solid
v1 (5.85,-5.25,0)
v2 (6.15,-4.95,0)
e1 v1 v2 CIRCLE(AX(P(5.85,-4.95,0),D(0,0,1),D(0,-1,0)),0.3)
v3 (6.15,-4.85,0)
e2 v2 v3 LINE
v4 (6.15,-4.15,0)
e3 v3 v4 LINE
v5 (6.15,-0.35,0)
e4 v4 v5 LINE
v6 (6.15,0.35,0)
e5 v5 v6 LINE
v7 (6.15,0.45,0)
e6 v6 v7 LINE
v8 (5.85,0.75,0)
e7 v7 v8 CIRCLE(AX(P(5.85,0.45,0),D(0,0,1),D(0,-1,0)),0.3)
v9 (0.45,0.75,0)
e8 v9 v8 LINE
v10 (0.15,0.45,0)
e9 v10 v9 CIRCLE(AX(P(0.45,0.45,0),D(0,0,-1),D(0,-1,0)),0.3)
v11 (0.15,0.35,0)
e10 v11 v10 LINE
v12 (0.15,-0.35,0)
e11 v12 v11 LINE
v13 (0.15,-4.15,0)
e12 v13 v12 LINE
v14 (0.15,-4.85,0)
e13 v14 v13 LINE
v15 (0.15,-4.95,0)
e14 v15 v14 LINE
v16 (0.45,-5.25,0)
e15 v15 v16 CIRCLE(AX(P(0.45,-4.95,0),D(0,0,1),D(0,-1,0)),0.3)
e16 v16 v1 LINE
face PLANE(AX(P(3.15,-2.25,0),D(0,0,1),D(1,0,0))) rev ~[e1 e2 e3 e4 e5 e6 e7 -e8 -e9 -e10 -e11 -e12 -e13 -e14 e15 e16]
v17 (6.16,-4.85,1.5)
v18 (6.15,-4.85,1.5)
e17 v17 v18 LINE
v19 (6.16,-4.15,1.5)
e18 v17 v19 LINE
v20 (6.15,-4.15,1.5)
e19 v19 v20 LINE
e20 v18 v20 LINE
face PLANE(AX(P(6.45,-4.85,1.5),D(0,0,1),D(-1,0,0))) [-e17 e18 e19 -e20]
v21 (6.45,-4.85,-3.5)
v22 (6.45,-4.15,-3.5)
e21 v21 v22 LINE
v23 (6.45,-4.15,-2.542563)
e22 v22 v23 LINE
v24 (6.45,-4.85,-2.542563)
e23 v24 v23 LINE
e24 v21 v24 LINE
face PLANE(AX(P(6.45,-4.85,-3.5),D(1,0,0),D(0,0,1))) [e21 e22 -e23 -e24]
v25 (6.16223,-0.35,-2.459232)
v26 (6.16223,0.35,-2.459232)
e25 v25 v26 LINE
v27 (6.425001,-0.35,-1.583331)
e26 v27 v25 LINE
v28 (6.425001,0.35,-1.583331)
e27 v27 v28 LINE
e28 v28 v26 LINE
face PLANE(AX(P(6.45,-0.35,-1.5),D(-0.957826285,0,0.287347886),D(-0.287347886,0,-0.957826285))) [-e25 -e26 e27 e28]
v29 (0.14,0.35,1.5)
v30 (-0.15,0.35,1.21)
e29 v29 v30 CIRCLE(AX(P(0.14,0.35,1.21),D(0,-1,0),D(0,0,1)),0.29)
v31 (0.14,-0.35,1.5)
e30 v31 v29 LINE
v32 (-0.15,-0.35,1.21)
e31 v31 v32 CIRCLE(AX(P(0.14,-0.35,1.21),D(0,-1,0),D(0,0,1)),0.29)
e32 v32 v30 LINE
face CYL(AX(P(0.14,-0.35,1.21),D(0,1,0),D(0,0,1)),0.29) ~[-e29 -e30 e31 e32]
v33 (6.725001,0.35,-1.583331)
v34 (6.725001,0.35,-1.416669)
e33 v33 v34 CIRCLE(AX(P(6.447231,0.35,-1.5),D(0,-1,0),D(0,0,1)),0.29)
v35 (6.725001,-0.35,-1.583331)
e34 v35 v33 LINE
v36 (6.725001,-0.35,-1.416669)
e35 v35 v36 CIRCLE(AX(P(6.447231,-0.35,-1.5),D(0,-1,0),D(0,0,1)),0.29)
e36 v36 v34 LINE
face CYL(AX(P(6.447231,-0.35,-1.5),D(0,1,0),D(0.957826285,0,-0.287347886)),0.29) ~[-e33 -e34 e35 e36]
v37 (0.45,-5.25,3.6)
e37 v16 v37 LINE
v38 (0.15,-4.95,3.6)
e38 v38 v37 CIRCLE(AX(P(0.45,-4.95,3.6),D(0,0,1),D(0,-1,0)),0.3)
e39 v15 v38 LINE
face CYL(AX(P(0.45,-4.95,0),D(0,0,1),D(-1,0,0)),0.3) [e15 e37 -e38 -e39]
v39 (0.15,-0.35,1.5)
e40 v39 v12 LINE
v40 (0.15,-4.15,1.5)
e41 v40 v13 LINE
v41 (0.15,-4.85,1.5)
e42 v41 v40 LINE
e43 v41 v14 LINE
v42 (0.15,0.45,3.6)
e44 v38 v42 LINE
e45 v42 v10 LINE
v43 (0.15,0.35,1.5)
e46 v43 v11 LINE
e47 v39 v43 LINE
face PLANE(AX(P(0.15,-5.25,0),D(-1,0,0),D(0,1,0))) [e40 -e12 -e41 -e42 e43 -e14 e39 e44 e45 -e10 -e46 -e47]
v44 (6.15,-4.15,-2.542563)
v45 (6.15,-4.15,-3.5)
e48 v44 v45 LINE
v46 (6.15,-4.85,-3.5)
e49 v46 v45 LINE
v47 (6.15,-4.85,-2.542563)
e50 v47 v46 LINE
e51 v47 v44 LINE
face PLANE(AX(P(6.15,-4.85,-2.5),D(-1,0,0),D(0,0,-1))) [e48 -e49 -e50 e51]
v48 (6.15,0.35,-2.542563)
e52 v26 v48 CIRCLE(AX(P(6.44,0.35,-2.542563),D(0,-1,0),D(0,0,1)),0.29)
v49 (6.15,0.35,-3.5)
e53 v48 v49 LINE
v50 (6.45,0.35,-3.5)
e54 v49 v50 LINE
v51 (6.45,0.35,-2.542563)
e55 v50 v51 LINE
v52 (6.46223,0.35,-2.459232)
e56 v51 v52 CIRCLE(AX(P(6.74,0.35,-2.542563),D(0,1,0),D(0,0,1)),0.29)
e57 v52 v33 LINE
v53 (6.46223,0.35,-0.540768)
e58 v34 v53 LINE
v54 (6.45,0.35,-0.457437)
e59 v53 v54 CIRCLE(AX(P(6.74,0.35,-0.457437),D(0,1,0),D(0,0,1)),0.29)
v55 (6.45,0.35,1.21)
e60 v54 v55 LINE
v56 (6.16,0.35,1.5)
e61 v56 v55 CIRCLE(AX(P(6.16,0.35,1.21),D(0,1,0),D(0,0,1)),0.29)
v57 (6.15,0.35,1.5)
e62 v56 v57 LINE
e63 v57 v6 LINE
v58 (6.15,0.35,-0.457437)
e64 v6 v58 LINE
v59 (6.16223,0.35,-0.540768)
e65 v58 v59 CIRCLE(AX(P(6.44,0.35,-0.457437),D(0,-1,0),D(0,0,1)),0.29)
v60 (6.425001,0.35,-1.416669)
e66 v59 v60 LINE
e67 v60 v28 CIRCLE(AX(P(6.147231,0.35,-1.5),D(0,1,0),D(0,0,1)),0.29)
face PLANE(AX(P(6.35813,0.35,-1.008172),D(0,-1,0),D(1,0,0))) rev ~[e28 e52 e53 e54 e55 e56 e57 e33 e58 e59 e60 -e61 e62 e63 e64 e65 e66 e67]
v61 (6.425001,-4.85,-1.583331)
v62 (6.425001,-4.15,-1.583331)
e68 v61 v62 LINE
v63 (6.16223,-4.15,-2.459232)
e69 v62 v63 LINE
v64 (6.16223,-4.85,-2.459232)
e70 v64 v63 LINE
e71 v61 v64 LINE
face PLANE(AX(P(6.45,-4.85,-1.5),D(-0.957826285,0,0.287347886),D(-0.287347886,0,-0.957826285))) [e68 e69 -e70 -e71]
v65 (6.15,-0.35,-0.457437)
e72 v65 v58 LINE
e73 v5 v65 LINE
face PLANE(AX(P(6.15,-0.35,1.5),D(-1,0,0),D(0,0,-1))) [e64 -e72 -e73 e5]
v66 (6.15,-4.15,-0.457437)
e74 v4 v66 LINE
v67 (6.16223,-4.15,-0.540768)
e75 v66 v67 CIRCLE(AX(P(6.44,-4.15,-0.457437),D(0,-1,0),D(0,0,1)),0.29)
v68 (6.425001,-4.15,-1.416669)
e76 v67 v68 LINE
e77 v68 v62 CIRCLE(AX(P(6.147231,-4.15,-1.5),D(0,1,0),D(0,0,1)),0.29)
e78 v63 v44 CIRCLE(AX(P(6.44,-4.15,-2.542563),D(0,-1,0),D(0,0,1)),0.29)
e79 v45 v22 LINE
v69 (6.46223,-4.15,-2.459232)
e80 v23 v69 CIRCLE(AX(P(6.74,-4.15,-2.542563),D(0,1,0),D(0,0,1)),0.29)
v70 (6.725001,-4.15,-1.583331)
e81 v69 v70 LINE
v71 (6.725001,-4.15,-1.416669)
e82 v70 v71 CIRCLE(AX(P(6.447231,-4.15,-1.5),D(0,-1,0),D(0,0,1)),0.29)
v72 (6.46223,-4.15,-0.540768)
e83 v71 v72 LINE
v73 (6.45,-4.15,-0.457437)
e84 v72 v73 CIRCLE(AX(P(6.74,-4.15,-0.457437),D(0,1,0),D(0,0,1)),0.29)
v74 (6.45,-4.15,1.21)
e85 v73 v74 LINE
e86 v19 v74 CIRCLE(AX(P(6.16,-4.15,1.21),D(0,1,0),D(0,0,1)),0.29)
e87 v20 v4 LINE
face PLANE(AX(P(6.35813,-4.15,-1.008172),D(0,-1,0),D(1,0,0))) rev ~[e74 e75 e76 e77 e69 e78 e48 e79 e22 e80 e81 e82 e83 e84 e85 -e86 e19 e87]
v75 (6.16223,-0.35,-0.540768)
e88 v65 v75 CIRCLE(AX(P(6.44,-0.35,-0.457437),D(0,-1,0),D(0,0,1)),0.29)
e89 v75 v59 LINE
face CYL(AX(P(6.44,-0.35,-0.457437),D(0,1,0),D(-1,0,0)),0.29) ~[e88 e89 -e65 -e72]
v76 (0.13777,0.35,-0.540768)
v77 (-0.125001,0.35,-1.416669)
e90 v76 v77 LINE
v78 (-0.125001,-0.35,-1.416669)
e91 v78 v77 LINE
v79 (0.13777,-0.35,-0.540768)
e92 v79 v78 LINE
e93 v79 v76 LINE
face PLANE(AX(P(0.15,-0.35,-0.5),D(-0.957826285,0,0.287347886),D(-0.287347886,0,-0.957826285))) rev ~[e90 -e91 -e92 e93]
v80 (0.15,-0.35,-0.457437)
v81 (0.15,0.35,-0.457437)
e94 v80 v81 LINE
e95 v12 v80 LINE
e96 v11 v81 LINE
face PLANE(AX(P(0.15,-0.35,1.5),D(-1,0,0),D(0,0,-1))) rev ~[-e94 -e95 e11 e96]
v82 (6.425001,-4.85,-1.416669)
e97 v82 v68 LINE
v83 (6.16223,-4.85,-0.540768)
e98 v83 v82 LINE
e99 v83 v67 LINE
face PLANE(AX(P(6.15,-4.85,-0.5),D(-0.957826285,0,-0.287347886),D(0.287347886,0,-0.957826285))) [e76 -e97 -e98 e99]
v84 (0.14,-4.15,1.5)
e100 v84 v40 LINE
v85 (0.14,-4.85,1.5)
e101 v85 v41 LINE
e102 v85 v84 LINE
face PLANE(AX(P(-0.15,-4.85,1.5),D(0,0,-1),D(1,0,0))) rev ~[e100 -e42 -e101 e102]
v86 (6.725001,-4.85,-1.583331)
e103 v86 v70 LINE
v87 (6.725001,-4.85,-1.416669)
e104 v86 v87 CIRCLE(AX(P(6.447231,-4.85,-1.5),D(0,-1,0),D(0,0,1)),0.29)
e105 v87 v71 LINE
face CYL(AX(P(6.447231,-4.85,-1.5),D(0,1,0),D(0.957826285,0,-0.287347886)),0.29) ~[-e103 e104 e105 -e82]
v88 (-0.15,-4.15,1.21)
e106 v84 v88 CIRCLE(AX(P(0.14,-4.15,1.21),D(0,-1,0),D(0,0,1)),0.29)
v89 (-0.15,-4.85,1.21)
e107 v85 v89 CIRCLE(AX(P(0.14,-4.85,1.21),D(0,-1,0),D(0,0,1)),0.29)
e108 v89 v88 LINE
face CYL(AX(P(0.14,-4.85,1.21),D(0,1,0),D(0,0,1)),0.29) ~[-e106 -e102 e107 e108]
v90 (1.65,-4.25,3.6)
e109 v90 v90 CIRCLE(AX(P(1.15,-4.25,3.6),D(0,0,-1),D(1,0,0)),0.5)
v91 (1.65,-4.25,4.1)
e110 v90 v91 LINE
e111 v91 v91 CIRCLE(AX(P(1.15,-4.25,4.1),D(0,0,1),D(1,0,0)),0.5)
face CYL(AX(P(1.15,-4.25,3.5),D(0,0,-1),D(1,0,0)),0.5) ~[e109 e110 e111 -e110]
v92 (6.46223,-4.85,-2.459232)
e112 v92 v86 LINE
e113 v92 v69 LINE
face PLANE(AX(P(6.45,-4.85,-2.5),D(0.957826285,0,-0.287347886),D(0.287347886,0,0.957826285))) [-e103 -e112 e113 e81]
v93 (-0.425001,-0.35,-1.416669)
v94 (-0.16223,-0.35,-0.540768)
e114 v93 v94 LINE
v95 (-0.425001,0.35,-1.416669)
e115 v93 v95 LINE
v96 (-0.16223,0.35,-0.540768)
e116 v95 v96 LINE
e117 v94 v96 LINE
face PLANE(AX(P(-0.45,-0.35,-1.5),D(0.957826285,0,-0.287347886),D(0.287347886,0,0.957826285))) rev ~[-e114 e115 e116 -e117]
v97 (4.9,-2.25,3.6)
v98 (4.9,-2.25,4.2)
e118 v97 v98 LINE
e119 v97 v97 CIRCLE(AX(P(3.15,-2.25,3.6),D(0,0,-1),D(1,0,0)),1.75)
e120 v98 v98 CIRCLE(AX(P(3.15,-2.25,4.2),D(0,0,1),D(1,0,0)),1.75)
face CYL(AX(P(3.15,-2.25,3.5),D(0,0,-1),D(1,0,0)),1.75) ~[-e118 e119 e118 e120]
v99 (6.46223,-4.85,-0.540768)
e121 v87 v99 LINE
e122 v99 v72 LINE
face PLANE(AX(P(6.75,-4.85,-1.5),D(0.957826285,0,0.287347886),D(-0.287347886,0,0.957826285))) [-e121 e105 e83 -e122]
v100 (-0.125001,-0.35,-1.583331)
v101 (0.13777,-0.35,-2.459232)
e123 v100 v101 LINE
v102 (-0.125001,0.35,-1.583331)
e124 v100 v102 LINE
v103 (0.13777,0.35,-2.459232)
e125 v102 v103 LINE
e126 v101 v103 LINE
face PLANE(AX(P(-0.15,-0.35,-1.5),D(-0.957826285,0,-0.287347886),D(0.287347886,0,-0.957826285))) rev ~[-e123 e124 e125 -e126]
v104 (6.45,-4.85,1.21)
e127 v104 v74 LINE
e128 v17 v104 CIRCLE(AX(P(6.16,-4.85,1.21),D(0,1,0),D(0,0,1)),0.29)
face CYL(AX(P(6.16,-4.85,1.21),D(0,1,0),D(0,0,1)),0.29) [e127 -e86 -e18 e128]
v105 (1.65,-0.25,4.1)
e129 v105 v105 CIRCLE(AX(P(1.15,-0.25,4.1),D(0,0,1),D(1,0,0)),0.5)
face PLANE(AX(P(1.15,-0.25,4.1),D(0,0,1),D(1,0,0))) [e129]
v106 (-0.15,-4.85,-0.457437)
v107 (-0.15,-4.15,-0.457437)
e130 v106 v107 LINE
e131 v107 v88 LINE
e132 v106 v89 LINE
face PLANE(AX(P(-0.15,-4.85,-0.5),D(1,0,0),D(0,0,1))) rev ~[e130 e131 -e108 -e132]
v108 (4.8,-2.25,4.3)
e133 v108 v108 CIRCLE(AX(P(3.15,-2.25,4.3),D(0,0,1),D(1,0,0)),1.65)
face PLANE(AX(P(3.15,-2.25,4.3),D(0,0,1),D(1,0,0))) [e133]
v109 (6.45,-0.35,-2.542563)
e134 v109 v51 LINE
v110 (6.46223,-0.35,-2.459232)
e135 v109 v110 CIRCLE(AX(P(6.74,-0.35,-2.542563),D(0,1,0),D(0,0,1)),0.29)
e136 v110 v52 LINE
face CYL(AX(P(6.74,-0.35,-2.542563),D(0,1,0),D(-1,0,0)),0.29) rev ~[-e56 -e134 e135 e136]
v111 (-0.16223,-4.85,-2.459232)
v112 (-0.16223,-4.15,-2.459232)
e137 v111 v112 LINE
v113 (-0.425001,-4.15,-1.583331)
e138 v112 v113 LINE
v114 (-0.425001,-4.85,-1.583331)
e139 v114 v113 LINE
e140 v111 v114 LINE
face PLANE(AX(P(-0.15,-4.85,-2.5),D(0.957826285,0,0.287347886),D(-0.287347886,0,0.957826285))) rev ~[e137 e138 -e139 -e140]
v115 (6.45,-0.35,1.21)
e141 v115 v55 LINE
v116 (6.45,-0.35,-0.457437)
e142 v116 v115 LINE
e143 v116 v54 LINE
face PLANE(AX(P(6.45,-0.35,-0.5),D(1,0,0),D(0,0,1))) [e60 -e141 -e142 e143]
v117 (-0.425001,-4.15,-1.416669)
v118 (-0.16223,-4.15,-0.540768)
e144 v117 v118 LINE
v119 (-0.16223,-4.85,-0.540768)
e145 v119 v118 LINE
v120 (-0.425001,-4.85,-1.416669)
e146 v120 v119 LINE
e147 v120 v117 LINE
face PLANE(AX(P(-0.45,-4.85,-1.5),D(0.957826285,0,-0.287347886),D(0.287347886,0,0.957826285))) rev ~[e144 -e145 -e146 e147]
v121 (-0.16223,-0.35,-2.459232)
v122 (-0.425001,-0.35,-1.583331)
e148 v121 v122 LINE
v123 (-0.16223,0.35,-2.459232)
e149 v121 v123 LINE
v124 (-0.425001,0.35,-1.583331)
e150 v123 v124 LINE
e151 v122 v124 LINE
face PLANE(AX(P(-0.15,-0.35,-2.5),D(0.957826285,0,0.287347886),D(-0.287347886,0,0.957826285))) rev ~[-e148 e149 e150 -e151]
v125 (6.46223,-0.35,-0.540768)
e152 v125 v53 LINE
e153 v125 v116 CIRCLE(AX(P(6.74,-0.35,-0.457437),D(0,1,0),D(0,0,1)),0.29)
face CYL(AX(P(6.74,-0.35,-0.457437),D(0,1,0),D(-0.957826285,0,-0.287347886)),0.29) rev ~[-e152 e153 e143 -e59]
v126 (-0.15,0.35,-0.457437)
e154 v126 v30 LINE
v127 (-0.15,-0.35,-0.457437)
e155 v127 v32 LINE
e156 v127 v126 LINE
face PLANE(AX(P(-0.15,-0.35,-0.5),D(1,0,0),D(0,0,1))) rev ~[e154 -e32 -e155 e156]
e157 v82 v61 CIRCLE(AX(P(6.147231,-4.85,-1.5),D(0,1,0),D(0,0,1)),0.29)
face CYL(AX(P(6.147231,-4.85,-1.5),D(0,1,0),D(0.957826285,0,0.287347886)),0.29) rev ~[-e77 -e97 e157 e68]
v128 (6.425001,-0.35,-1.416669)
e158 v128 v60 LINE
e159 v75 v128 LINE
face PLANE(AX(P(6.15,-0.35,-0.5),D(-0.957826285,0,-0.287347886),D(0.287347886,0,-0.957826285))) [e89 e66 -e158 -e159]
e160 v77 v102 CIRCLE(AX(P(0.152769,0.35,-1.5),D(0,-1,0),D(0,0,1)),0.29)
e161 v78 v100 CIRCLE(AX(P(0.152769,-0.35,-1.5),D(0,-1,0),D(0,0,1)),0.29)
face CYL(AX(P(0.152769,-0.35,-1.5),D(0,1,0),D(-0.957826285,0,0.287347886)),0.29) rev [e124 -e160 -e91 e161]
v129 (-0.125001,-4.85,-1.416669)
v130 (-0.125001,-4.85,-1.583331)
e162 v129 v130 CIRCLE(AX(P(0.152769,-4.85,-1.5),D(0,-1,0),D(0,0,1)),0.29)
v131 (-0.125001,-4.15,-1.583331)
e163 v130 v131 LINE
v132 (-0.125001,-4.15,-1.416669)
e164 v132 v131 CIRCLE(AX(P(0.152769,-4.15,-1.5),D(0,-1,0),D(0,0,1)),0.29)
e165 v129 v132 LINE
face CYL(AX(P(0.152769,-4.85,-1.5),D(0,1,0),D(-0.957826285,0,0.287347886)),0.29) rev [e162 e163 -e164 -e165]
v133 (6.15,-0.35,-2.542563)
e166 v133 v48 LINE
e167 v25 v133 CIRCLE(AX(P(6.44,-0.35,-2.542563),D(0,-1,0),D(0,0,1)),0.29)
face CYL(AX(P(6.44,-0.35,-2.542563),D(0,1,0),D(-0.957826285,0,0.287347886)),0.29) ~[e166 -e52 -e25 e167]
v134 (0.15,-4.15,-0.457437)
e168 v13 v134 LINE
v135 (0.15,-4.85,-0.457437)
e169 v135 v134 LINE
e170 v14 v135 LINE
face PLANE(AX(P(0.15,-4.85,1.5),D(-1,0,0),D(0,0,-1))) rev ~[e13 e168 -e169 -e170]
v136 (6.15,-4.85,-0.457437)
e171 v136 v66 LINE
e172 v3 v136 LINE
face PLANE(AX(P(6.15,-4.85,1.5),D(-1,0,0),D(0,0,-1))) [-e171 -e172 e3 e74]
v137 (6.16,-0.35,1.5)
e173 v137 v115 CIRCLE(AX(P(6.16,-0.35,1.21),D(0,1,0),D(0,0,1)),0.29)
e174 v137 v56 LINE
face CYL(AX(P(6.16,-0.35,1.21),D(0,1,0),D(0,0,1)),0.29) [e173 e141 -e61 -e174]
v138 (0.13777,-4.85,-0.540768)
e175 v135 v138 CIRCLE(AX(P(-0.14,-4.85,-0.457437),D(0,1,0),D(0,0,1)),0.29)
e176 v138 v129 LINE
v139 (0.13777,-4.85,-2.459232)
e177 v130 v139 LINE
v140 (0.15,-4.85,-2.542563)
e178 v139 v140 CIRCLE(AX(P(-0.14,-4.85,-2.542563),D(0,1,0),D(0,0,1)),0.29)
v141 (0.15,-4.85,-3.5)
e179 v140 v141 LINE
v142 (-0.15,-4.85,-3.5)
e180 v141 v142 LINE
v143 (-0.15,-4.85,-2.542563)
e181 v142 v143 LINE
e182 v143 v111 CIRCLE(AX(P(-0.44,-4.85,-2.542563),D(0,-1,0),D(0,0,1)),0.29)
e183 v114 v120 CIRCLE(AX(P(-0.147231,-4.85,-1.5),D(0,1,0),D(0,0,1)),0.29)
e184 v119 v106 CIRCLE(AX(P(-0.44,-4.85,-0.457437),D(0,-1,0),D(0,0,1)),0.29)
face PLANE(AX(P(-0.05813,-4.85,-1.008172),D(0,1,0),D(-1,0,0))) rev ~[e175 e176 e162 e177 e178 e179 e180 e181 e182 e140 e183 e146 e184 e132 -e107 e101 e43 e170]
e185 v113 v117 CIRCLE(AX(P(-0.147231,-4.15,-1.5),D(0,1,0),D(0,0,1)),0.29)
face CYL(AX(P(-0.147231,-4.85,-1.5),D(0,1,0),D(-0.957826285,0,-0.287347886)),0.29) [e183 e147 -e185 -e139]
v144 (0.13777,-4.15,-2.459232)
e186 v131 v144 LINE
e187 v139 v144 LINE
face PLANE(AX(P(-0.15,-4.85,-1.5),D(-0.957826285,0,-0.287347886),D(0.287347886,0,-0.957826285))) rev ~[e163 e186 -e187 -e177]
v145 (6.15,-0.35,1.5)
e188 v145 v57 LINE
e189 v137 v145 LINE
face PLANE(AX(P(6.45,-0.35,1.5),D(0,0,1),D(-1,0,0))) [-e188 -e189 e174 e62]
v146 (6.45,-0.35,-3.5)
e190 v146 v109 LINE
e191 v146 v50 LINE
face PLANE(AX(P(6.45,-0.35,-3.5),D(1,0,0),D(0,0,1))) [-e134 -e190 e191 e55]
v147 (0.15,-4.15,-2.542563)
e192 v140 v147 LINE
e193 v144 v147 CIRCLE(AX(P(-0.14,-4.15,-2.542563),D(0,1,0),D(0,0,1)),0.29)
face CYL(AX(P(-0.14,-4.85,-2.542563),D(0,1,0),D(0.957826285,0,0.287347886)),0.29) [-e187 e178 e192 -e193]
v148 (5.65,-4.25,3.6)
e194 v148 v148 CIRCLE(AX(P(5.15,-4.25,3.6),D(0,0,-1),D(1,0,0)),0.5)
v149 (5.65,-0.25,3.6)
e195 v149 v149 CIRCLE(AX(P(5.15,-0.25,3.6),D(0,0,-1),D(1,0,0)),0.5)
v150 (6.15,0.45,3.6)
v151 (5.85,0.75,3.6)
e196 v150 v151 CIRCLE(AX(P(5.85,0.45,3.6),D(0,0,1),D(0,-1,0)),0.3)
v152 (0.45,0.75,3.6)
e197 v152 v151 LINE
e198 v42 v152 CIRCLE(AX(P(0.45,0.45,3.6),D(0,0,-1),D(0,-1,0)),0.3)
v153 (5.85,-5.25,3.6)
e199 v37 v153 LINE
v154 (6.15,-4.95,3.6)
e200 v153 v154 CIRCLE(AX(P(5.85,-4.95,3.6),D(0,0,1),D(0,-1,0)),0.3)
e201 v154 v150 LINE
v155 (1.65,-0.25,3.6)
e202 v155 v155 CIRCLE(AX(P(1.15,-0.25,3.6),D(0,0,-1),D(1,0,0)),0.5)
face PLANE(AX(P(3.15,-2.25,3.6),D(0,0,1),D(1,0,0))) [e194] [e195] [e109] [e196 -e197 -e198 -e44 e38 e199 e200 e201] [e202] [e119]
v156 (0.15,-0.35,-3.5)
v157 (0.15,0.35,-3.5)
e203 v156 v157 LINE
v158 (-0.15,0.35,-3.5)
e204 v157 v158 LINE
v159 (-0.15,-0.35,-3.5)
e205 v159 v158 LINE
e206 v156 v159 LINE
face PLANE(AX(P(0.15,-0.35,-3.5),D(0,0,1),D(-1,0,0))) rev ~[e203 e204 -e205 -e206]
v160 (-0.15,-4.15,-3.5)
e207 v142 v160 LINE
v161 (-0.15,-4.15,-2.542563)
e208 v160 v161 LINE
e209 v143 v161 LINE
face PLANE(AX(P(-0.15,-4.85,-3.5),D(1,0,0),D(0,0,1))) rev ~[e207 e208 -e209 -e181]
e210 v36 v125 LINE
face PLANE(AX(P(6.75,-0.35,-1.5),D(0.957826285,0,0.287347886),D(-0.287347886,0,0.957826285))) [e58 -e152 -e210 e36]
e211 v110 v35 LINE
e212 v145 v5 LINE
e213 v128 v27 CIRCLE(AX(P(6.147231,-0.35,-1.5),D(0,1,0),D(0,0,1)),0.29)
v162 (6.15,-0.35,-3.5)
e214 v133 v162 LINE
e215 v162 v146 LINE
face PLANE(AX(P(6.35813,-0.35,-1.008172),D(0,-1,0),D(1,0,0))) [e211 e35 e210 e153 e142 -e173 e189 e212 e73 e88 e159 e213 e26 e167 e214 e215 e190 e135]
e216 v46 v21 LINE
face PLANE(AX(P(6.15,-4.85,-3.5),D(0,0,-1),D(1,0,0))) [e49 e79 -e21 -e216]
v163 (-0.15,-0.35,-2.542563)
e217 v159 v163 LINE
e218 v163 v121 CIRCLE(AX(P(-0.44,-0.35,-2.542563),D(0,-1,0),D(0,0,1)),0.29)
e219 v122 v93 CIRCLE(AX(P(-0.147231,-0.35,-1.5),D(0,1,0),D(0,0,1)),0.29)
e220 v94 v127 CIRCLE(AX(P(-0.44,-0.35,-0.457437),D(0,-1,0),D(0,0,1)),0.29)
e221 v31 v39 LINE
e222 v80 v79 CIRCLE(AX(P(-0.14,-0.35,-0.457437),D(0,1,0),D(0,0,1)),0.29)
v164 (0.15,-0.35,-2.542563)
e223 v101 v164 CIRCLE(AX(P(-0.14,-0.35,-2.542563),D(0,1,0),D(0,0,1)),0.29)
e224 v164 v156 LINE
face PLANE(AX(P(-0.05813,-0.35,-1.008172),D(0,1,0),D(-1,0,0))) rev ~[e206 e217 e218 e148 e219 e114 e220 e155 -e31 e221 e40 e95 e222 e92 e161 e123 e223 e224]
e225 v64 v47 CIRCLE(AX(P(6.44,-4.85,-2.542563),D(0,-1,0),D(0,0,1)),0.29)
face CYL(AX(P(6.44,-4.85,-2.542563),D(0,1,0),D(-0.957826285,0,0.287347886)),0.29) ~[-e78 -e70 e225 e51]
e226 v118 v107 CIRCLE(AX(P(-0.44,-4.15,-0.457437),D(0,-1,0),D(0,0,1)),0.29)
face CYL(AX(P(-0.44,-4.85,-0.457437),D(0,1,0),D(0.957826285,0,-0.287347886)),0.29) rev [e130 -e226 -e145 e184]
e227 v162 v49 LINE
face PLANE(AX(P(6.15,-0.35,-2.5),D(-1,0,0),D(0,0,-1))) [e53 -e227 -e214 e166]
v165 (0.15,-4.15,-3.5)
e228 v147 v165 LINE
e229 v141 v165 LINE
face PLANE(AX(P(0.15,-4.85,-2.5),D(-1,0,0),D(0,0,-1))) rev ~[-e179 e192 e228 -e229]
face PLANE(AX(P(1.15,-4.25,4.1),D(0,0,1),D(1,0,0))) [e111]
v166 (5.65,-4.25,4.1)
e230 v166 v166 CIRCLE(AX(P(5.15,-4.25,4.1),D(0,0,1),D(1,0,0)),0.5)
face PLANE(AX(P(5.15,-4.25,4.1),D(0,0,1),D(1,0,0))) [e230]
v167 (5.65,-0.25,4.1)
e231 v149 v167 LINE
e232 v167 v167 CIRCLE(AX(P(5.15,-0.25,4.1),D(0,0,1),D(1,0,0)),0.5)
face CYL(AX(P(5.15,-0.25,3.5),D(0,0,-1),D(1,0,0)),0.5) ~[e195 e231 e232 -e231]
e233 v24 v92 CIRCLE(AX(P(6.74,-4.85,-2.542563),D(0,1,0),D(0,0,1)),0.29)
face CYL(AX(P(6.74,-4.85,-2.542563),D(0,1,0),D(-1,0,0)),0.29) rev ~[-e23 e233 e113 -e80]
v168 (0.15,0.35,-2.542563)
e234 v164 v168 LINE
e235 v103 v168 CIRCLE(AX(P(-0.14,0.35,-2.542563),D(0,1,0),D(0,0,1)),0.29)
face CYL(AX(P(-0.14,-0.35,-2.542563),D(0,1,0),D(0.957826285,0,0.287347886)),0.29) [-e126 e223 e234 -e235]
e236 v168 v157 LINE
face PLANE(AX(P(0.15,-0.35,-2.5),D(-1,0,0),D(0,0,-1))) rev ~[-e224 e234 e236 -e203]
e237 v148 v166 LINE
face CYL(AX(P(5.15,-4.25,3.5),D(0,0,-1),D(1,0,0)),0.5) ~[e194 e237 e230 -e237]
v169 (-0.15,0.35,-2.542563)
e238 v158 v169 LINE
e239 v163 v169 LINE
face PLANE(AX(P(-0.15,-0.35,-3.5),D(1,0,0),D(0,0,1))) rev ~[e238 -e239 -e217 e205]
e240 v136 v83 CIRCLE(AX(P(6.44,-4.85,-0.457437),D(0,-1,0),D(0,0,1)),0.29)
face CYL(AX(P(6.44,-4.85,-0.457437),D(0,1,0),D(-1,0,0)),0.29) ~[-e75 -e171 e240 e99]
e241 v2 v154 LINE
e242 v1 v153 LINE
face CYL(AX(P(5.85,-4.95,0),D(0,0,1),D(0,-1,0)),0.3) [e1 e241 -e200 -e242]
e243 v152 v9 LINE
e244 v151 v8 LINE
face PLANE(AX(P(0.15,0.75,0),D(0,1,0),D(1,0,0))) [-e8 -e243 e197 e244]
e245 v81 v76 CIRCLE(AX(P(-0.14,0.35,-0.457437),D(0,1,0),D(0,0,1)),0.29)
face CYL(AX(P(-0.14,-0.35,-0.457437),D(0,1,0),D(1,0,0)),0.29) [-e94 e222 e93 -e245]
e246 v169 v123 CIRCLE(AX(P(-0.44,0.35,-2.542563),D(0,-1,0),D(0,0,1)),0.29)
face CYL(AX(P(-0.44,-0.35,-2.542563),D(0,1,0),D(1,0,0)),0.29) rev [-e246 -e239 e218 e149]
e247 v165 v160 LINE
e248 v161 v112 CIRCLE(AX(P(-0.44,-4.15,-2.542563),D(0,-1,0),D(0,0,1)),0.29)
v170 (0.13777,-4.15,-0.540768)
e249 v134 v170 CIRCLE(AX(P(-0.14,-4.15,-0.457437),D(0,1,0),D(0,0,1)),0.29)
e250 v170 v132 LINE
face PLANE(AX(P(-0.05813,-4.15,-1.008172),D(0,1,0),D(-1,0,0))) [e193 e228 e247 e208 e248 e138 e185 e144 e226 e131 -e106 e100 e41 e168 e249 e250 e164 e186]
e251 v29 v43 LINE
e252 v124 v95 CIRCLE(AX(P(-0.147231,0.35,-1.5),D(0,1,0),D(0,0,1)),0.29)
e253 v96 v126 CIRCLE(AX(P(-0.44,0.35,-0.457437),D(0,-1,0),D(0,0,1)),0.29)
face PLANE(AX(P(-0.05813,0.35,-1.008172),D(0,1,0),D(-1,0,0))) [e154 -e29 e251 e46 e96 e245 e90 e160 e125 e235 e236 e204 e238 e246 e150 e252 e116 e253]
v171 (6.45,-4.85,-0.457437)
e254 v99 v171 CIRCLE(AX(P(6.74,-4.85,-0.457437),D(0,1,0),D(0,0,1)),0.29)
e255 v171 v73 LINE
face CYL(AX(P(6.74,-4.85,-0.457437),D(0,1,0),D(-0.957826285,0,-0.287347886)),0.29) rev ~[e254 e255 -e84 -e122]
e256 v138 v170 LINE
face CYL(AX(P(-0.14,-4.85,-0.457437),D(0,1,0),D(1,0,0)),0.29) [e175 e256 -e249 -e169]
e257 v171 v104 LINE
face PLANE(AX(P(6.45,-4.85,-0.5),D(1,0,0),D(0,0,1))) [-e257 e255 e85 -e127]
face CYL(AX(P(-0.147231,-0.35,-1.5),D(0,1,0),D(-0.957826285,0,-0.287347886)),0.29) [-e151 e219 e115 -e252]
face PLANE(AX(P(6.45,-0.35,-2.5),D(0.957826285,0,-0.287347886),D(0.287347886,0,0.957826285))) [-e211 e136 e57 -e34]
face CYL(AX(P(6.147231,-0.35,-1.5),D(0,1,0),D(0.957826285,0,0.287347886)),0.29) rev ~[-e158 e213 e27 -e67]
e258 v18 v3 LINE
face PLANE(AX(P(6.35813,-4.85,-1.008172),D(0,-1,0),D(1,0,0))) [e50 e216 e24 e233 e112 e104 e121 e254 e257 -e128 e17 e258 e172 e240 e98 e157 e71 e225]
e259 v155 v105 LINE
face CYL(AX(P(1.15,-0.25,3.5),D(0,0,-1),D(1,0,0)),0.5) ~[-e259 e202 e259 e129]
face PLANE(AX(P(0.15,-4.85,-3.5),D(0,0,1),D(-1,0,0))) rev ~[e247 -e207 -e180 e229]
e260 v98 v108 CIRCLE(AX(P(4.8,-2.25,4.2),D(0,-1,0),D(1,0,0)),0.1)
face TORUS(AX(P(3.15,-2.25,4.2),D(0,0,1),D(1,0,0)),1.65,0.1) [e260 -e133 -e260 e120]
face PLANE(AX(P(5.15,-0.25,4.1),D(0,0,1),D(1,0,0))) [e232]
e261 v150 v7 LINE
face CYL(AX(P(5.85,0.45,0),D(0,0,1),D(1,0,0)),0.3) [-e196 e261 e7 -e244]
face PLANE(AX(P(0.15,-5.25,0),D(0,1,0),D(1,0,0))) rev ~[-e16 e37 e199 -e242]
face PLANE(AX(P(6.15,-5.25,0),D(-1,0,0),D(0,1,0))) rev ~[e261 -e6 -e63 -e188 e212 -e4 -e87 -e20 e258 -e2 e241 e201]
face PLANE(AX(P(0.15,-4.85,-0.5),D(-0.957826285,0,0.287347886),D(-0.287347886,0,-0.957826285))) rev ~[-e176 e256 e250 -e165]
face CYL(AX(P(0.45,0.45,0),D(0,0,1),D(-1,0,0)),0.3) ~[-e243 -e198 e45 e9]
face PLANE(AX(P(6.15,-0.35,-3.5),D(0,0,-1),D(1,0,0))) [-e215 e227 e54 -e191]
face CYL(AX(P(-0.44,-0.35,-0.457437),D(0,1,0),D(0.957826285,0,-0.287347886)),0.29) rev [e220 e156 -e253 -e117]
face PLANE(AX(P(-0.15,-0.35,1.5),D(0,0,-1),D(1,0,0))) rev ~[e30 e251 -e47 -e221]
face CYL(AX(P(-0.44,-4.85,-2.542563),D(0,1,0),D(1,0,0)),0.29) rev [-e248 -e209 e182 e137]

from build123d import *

# Parameters (mm, degrees)
SKETCH001_W  = 6
SKETCH001_H  = 6
PAD001_DEPTH = 0.1
FILLET001_R  = 0.3
PAD008_DEPTH = 0.7
FILLET003_R  = 0.29
PAD009_DEPTH = 0.7
FILLET004_R  = 0.29
PAD010_DEPTH = 0.7
FILLET005_R  = 0.29
SKETCH_W     = 6
SKETCH_H     = 6
PAD_DEPTH    = 3.5
FILLET_R     = 0.3
SKETCH004_R  = 0.5
PAD003_DEPTH = 0.6
SKETCH003_R  = 0.5
PAD004_DEPTH = 0.6
SKETCH005_R  = 0.5
PAD002_DEPTH = 0.6
SKETCH002_R  = 0.5
PAD005_DEPTH = 0.6
SKETCH006_R  = 1.75
PAD006_DEPTH = 0.8
FILLET006_R  = 0.1
PAD007_DEPTH = 0.7
FILLET002_R  = 0.29


with BuildPart() as fillet001:
    # Sketch001 → Pad001 (new body)
    with BuildSketch(Plane.XY.offset(3.5)):
        with Locations((3.15, -2.25)):
            Rectangle(SKETCH001_W, SKETCH001_H)
    extrude(amount=PAD001_DEPTH)

    # Fillet001
    fillet001_edges = [fillet001.edges().sort_by_distance(p)[0] for p in [
        (6.15, -5.25, 3.55),
        (0.15, -5.25, 3.55),
        (6.15, 0.75, 3.55),
        (0.15, 0.75, 3.55),
    ]]
    fillet(fillet001_edges, radius=FILLET001_R)


with BuildPart() as fillet003:
    # Sketch008 → Pad008 (new body)
    with BuildSketch(Plane.XZ.offset(0.35)):
        Polygon((-0.15, 1.5), (0.15, 1.5), (0.15, -0.5), (-0.15, -1.5), (0.15, -2.5), (0.15, -3.5), (-0.15, -3.5), (-0.15, -2.5), (-0.45, -1.5), (-0.15, -0.5), align=None)
    extrude(amount=-PAD008_DEPTH)

    # Fillet003
    fillet003_edges = [fillet003.edges().sort_by_distance(p)[0] for p in [
        (-0.15, 0, -2.5),
        (-0.15, 0, -0.5),
        (-0.45, 0, -1.5),
        (-0.15, 0, 1.5),
        (0.15, 0, -0.5),
        (-0.15, 0, -1.5),
        (0.15, 0, -2.5),
    ]]
    fillet(fillet003_edges, radius=FILLET003_R)


with BuildPart() as fillet004:
    # Sketch009 → Pad009 (new body)
    with BuildSketch(Plane.XZ.offset(4.85)):
        Polygon((6.45, 1.5), (6.15, 1.5), (6.15, -0.5), (6.45, -1.5), (6.15, -2.5), (6.15, -3.5), (6.45, -3.5), (6.45, -2.5), (6.75, -1.5), (6.45, -0.5), align=None)
    extrude(amount=-PAD009_DEPTH)

    # Fillet004
    fillet004_edges = [fillet004.edges().sort_by_distance(p)[0] for p in [
        (6.45, -4.5, -2.5),
        (6.45, -4.5, -0.5),
        (6.75, -4.5, -1.5),
        (6.45, -4.5, 1.5),
        (6.15, -4.5, -0.5),
        (6.45, -4.5, -1.5),
        (6.15, -4.5, -2.5),
    ]]
    fillet(fillet004_edges, radius=FILLET004_R)


with BuildPart() as fillet005:
    # Sketch010 → Pad010 (new body)
    with BuildSketch(Plane.XZ.offset(0.35)):
        Polygon((6.45, 1.5), (6.15, 1.5), (6.15, -0.5), (6.45, -1.5), (6.15, -2.5), (6.15, -3.5), (6.45, -3.5), (6.45, -2.5), (6.75, -1.5), (6.45, -0.5), align=None)
    extrude(amount=-PAD010_DEPTH)

    # Fillet005
    fillet005_edges = [fillet005.edges().sort_by_distance(p)[0] for p in [
        (6.45, 0, -2.5),
        (6.45, 0, -0.5),
        (6.75, 0, -1.5),
        (6.45, 0, 1.5),
        (6.15, 0, -0.5),
        (6.45, 0, -1.5),
        (6.15, 0, -2.5),
    ]]
    fillet(fillet005_edges, radius=FILLET005_R)


with BuildPart() as fillet_body:
    # Sketch → Pad (new body)
    with BuildSketch(Plane.XY):
        with Locations((3.15, -2.25)):
            Rectangle(SKETCH_W, SKETCH_H)
    extrude(amount=PAD_DEPTH)

    # Fillet
    fillet_edges = [fillet_body.edges().sort_by_distance(p)[0] for p in [
        (6.15, 0.75, 1.75),
        (6.15, -5.25, 1.75),
        (0.15, -5.25, 1.75),
        (0.15, 0.75, 1.75),
    ]]
    fillet(fillet_edges, radius=FILLET_R)


with BuildPart() as pad003:
    # Pad003 base: copy of Fillet body
    add(fillet_body.part)

    # Sketch004 → Pad003 (new body)
    with BuildSketch(Plane.XY.offset(3.5)):
        with Locations((5.15, -0.25)):
            Circle(SKETCH004_R)
    extrude(amount=PAD003_DEPTH)


with BuildPart() as pad004:
    # Pad004 base: copy of Fillet body
    add(fillet_body.part)

    # Sketch003 → Pad004 (new body)
    with BuildSketch(Plane.XY.offset(3.5)):
        with Locations((5.15, -4.25)):
            Circle(SKETCH003_R)
    extrude(amount=PAD004_DEPTH)


with BuildPart() as pad002:
    # Pad002 base: copy of Fillet body
    add(fillet_body.part)

    # Sketch005 → Pad002 (new body)
    with BuildSketch(Plane.XY.offset(3.5)):
        with Locations((1.15, -0.25)):
            Circle(SKETCH005_R)
    extrude(amount=PAD002_DEPTH)


with BuildPart() as pad005:
    # Pad005 base: copy of Fillet body
    add(fillet_body.part)

    # Sketch002 → Pad005 (new body)
    with BuildSketch(Plane.XY.offset(3.5)):
        with Locations((1.15, -4.25)):
            Circle(SKETCH002_R)
    extrude(amount=PAD005_DEPTH)


with BuildPart() as fillet006:
    # Pad006 base: copy of Fillet body
    add(fillet_body.part)

    # Sketch006 → Pad006 (new body)
    with BuildSketch(Plane.XY.offset(3.5)):
        with Locations((3.15, -2.25)):
            Circle(SKETCH006_R)
    extrude(amount=PAD006_DEPTH)

    # Fillet006
    fillet006_edges = [fillet006.edges().sort_by_distance(p)[0] for p in [
        (1.4, -2.25, 4.3),
    ]]
    fillet(fillet006_edges, radius=FILLET006_R)


with BuildPart() as sw_push_6mm:
    # Sketch007 → Pad007 (new body)
    with BuildSketch(Plane.XZ.offset(4.85)):
        Polygon((-0.15, 1.5), (0.15, 1.5), (0.15, -0.5), (-0.15, -1.5), (0.15, -2.5), (0.15, -3.5), (-0.15, -3.5), (-0.15, -2.5), (-0.45, -1.5), (-0.15, -0.5), align=None)
    extrude(amount=-PAD007_DEPTH)

    # Fillet002
    fillet002_edges = [sw_push_6mm.edges().sort_by_distance(p)[0] for p in [
        (-0.15, -4.5, -2.5),
        (-0.15, -4.5, -0.5),
        (-0.45, -4.5, -1.5),
        (-0.15, -4.5, 1.5),
        (0.15, -4.5, -0.5),
        (-0.15, -4.5, -1.5),
        (0.15, -4.5, -2.5),
    ]]
    fillet(fillet002_edges, radius=FILLET002_R)

    # Fillet002_mp_cp: union Fillet001, Fillet003, Fillet004, Fillet005, Pad003, Pad004, Pad002, Pad005, Fillet006
    add(fillet001.part)
    add(fillet003.part)
    add(fillet004.part)
    add(fillet005.part)
    add(pad003.part)
    add(pad004.part)
    add(pad002.part)
    add(pad005.part)
    add(fillet006.part)


solid = sw_push_6mm.part
